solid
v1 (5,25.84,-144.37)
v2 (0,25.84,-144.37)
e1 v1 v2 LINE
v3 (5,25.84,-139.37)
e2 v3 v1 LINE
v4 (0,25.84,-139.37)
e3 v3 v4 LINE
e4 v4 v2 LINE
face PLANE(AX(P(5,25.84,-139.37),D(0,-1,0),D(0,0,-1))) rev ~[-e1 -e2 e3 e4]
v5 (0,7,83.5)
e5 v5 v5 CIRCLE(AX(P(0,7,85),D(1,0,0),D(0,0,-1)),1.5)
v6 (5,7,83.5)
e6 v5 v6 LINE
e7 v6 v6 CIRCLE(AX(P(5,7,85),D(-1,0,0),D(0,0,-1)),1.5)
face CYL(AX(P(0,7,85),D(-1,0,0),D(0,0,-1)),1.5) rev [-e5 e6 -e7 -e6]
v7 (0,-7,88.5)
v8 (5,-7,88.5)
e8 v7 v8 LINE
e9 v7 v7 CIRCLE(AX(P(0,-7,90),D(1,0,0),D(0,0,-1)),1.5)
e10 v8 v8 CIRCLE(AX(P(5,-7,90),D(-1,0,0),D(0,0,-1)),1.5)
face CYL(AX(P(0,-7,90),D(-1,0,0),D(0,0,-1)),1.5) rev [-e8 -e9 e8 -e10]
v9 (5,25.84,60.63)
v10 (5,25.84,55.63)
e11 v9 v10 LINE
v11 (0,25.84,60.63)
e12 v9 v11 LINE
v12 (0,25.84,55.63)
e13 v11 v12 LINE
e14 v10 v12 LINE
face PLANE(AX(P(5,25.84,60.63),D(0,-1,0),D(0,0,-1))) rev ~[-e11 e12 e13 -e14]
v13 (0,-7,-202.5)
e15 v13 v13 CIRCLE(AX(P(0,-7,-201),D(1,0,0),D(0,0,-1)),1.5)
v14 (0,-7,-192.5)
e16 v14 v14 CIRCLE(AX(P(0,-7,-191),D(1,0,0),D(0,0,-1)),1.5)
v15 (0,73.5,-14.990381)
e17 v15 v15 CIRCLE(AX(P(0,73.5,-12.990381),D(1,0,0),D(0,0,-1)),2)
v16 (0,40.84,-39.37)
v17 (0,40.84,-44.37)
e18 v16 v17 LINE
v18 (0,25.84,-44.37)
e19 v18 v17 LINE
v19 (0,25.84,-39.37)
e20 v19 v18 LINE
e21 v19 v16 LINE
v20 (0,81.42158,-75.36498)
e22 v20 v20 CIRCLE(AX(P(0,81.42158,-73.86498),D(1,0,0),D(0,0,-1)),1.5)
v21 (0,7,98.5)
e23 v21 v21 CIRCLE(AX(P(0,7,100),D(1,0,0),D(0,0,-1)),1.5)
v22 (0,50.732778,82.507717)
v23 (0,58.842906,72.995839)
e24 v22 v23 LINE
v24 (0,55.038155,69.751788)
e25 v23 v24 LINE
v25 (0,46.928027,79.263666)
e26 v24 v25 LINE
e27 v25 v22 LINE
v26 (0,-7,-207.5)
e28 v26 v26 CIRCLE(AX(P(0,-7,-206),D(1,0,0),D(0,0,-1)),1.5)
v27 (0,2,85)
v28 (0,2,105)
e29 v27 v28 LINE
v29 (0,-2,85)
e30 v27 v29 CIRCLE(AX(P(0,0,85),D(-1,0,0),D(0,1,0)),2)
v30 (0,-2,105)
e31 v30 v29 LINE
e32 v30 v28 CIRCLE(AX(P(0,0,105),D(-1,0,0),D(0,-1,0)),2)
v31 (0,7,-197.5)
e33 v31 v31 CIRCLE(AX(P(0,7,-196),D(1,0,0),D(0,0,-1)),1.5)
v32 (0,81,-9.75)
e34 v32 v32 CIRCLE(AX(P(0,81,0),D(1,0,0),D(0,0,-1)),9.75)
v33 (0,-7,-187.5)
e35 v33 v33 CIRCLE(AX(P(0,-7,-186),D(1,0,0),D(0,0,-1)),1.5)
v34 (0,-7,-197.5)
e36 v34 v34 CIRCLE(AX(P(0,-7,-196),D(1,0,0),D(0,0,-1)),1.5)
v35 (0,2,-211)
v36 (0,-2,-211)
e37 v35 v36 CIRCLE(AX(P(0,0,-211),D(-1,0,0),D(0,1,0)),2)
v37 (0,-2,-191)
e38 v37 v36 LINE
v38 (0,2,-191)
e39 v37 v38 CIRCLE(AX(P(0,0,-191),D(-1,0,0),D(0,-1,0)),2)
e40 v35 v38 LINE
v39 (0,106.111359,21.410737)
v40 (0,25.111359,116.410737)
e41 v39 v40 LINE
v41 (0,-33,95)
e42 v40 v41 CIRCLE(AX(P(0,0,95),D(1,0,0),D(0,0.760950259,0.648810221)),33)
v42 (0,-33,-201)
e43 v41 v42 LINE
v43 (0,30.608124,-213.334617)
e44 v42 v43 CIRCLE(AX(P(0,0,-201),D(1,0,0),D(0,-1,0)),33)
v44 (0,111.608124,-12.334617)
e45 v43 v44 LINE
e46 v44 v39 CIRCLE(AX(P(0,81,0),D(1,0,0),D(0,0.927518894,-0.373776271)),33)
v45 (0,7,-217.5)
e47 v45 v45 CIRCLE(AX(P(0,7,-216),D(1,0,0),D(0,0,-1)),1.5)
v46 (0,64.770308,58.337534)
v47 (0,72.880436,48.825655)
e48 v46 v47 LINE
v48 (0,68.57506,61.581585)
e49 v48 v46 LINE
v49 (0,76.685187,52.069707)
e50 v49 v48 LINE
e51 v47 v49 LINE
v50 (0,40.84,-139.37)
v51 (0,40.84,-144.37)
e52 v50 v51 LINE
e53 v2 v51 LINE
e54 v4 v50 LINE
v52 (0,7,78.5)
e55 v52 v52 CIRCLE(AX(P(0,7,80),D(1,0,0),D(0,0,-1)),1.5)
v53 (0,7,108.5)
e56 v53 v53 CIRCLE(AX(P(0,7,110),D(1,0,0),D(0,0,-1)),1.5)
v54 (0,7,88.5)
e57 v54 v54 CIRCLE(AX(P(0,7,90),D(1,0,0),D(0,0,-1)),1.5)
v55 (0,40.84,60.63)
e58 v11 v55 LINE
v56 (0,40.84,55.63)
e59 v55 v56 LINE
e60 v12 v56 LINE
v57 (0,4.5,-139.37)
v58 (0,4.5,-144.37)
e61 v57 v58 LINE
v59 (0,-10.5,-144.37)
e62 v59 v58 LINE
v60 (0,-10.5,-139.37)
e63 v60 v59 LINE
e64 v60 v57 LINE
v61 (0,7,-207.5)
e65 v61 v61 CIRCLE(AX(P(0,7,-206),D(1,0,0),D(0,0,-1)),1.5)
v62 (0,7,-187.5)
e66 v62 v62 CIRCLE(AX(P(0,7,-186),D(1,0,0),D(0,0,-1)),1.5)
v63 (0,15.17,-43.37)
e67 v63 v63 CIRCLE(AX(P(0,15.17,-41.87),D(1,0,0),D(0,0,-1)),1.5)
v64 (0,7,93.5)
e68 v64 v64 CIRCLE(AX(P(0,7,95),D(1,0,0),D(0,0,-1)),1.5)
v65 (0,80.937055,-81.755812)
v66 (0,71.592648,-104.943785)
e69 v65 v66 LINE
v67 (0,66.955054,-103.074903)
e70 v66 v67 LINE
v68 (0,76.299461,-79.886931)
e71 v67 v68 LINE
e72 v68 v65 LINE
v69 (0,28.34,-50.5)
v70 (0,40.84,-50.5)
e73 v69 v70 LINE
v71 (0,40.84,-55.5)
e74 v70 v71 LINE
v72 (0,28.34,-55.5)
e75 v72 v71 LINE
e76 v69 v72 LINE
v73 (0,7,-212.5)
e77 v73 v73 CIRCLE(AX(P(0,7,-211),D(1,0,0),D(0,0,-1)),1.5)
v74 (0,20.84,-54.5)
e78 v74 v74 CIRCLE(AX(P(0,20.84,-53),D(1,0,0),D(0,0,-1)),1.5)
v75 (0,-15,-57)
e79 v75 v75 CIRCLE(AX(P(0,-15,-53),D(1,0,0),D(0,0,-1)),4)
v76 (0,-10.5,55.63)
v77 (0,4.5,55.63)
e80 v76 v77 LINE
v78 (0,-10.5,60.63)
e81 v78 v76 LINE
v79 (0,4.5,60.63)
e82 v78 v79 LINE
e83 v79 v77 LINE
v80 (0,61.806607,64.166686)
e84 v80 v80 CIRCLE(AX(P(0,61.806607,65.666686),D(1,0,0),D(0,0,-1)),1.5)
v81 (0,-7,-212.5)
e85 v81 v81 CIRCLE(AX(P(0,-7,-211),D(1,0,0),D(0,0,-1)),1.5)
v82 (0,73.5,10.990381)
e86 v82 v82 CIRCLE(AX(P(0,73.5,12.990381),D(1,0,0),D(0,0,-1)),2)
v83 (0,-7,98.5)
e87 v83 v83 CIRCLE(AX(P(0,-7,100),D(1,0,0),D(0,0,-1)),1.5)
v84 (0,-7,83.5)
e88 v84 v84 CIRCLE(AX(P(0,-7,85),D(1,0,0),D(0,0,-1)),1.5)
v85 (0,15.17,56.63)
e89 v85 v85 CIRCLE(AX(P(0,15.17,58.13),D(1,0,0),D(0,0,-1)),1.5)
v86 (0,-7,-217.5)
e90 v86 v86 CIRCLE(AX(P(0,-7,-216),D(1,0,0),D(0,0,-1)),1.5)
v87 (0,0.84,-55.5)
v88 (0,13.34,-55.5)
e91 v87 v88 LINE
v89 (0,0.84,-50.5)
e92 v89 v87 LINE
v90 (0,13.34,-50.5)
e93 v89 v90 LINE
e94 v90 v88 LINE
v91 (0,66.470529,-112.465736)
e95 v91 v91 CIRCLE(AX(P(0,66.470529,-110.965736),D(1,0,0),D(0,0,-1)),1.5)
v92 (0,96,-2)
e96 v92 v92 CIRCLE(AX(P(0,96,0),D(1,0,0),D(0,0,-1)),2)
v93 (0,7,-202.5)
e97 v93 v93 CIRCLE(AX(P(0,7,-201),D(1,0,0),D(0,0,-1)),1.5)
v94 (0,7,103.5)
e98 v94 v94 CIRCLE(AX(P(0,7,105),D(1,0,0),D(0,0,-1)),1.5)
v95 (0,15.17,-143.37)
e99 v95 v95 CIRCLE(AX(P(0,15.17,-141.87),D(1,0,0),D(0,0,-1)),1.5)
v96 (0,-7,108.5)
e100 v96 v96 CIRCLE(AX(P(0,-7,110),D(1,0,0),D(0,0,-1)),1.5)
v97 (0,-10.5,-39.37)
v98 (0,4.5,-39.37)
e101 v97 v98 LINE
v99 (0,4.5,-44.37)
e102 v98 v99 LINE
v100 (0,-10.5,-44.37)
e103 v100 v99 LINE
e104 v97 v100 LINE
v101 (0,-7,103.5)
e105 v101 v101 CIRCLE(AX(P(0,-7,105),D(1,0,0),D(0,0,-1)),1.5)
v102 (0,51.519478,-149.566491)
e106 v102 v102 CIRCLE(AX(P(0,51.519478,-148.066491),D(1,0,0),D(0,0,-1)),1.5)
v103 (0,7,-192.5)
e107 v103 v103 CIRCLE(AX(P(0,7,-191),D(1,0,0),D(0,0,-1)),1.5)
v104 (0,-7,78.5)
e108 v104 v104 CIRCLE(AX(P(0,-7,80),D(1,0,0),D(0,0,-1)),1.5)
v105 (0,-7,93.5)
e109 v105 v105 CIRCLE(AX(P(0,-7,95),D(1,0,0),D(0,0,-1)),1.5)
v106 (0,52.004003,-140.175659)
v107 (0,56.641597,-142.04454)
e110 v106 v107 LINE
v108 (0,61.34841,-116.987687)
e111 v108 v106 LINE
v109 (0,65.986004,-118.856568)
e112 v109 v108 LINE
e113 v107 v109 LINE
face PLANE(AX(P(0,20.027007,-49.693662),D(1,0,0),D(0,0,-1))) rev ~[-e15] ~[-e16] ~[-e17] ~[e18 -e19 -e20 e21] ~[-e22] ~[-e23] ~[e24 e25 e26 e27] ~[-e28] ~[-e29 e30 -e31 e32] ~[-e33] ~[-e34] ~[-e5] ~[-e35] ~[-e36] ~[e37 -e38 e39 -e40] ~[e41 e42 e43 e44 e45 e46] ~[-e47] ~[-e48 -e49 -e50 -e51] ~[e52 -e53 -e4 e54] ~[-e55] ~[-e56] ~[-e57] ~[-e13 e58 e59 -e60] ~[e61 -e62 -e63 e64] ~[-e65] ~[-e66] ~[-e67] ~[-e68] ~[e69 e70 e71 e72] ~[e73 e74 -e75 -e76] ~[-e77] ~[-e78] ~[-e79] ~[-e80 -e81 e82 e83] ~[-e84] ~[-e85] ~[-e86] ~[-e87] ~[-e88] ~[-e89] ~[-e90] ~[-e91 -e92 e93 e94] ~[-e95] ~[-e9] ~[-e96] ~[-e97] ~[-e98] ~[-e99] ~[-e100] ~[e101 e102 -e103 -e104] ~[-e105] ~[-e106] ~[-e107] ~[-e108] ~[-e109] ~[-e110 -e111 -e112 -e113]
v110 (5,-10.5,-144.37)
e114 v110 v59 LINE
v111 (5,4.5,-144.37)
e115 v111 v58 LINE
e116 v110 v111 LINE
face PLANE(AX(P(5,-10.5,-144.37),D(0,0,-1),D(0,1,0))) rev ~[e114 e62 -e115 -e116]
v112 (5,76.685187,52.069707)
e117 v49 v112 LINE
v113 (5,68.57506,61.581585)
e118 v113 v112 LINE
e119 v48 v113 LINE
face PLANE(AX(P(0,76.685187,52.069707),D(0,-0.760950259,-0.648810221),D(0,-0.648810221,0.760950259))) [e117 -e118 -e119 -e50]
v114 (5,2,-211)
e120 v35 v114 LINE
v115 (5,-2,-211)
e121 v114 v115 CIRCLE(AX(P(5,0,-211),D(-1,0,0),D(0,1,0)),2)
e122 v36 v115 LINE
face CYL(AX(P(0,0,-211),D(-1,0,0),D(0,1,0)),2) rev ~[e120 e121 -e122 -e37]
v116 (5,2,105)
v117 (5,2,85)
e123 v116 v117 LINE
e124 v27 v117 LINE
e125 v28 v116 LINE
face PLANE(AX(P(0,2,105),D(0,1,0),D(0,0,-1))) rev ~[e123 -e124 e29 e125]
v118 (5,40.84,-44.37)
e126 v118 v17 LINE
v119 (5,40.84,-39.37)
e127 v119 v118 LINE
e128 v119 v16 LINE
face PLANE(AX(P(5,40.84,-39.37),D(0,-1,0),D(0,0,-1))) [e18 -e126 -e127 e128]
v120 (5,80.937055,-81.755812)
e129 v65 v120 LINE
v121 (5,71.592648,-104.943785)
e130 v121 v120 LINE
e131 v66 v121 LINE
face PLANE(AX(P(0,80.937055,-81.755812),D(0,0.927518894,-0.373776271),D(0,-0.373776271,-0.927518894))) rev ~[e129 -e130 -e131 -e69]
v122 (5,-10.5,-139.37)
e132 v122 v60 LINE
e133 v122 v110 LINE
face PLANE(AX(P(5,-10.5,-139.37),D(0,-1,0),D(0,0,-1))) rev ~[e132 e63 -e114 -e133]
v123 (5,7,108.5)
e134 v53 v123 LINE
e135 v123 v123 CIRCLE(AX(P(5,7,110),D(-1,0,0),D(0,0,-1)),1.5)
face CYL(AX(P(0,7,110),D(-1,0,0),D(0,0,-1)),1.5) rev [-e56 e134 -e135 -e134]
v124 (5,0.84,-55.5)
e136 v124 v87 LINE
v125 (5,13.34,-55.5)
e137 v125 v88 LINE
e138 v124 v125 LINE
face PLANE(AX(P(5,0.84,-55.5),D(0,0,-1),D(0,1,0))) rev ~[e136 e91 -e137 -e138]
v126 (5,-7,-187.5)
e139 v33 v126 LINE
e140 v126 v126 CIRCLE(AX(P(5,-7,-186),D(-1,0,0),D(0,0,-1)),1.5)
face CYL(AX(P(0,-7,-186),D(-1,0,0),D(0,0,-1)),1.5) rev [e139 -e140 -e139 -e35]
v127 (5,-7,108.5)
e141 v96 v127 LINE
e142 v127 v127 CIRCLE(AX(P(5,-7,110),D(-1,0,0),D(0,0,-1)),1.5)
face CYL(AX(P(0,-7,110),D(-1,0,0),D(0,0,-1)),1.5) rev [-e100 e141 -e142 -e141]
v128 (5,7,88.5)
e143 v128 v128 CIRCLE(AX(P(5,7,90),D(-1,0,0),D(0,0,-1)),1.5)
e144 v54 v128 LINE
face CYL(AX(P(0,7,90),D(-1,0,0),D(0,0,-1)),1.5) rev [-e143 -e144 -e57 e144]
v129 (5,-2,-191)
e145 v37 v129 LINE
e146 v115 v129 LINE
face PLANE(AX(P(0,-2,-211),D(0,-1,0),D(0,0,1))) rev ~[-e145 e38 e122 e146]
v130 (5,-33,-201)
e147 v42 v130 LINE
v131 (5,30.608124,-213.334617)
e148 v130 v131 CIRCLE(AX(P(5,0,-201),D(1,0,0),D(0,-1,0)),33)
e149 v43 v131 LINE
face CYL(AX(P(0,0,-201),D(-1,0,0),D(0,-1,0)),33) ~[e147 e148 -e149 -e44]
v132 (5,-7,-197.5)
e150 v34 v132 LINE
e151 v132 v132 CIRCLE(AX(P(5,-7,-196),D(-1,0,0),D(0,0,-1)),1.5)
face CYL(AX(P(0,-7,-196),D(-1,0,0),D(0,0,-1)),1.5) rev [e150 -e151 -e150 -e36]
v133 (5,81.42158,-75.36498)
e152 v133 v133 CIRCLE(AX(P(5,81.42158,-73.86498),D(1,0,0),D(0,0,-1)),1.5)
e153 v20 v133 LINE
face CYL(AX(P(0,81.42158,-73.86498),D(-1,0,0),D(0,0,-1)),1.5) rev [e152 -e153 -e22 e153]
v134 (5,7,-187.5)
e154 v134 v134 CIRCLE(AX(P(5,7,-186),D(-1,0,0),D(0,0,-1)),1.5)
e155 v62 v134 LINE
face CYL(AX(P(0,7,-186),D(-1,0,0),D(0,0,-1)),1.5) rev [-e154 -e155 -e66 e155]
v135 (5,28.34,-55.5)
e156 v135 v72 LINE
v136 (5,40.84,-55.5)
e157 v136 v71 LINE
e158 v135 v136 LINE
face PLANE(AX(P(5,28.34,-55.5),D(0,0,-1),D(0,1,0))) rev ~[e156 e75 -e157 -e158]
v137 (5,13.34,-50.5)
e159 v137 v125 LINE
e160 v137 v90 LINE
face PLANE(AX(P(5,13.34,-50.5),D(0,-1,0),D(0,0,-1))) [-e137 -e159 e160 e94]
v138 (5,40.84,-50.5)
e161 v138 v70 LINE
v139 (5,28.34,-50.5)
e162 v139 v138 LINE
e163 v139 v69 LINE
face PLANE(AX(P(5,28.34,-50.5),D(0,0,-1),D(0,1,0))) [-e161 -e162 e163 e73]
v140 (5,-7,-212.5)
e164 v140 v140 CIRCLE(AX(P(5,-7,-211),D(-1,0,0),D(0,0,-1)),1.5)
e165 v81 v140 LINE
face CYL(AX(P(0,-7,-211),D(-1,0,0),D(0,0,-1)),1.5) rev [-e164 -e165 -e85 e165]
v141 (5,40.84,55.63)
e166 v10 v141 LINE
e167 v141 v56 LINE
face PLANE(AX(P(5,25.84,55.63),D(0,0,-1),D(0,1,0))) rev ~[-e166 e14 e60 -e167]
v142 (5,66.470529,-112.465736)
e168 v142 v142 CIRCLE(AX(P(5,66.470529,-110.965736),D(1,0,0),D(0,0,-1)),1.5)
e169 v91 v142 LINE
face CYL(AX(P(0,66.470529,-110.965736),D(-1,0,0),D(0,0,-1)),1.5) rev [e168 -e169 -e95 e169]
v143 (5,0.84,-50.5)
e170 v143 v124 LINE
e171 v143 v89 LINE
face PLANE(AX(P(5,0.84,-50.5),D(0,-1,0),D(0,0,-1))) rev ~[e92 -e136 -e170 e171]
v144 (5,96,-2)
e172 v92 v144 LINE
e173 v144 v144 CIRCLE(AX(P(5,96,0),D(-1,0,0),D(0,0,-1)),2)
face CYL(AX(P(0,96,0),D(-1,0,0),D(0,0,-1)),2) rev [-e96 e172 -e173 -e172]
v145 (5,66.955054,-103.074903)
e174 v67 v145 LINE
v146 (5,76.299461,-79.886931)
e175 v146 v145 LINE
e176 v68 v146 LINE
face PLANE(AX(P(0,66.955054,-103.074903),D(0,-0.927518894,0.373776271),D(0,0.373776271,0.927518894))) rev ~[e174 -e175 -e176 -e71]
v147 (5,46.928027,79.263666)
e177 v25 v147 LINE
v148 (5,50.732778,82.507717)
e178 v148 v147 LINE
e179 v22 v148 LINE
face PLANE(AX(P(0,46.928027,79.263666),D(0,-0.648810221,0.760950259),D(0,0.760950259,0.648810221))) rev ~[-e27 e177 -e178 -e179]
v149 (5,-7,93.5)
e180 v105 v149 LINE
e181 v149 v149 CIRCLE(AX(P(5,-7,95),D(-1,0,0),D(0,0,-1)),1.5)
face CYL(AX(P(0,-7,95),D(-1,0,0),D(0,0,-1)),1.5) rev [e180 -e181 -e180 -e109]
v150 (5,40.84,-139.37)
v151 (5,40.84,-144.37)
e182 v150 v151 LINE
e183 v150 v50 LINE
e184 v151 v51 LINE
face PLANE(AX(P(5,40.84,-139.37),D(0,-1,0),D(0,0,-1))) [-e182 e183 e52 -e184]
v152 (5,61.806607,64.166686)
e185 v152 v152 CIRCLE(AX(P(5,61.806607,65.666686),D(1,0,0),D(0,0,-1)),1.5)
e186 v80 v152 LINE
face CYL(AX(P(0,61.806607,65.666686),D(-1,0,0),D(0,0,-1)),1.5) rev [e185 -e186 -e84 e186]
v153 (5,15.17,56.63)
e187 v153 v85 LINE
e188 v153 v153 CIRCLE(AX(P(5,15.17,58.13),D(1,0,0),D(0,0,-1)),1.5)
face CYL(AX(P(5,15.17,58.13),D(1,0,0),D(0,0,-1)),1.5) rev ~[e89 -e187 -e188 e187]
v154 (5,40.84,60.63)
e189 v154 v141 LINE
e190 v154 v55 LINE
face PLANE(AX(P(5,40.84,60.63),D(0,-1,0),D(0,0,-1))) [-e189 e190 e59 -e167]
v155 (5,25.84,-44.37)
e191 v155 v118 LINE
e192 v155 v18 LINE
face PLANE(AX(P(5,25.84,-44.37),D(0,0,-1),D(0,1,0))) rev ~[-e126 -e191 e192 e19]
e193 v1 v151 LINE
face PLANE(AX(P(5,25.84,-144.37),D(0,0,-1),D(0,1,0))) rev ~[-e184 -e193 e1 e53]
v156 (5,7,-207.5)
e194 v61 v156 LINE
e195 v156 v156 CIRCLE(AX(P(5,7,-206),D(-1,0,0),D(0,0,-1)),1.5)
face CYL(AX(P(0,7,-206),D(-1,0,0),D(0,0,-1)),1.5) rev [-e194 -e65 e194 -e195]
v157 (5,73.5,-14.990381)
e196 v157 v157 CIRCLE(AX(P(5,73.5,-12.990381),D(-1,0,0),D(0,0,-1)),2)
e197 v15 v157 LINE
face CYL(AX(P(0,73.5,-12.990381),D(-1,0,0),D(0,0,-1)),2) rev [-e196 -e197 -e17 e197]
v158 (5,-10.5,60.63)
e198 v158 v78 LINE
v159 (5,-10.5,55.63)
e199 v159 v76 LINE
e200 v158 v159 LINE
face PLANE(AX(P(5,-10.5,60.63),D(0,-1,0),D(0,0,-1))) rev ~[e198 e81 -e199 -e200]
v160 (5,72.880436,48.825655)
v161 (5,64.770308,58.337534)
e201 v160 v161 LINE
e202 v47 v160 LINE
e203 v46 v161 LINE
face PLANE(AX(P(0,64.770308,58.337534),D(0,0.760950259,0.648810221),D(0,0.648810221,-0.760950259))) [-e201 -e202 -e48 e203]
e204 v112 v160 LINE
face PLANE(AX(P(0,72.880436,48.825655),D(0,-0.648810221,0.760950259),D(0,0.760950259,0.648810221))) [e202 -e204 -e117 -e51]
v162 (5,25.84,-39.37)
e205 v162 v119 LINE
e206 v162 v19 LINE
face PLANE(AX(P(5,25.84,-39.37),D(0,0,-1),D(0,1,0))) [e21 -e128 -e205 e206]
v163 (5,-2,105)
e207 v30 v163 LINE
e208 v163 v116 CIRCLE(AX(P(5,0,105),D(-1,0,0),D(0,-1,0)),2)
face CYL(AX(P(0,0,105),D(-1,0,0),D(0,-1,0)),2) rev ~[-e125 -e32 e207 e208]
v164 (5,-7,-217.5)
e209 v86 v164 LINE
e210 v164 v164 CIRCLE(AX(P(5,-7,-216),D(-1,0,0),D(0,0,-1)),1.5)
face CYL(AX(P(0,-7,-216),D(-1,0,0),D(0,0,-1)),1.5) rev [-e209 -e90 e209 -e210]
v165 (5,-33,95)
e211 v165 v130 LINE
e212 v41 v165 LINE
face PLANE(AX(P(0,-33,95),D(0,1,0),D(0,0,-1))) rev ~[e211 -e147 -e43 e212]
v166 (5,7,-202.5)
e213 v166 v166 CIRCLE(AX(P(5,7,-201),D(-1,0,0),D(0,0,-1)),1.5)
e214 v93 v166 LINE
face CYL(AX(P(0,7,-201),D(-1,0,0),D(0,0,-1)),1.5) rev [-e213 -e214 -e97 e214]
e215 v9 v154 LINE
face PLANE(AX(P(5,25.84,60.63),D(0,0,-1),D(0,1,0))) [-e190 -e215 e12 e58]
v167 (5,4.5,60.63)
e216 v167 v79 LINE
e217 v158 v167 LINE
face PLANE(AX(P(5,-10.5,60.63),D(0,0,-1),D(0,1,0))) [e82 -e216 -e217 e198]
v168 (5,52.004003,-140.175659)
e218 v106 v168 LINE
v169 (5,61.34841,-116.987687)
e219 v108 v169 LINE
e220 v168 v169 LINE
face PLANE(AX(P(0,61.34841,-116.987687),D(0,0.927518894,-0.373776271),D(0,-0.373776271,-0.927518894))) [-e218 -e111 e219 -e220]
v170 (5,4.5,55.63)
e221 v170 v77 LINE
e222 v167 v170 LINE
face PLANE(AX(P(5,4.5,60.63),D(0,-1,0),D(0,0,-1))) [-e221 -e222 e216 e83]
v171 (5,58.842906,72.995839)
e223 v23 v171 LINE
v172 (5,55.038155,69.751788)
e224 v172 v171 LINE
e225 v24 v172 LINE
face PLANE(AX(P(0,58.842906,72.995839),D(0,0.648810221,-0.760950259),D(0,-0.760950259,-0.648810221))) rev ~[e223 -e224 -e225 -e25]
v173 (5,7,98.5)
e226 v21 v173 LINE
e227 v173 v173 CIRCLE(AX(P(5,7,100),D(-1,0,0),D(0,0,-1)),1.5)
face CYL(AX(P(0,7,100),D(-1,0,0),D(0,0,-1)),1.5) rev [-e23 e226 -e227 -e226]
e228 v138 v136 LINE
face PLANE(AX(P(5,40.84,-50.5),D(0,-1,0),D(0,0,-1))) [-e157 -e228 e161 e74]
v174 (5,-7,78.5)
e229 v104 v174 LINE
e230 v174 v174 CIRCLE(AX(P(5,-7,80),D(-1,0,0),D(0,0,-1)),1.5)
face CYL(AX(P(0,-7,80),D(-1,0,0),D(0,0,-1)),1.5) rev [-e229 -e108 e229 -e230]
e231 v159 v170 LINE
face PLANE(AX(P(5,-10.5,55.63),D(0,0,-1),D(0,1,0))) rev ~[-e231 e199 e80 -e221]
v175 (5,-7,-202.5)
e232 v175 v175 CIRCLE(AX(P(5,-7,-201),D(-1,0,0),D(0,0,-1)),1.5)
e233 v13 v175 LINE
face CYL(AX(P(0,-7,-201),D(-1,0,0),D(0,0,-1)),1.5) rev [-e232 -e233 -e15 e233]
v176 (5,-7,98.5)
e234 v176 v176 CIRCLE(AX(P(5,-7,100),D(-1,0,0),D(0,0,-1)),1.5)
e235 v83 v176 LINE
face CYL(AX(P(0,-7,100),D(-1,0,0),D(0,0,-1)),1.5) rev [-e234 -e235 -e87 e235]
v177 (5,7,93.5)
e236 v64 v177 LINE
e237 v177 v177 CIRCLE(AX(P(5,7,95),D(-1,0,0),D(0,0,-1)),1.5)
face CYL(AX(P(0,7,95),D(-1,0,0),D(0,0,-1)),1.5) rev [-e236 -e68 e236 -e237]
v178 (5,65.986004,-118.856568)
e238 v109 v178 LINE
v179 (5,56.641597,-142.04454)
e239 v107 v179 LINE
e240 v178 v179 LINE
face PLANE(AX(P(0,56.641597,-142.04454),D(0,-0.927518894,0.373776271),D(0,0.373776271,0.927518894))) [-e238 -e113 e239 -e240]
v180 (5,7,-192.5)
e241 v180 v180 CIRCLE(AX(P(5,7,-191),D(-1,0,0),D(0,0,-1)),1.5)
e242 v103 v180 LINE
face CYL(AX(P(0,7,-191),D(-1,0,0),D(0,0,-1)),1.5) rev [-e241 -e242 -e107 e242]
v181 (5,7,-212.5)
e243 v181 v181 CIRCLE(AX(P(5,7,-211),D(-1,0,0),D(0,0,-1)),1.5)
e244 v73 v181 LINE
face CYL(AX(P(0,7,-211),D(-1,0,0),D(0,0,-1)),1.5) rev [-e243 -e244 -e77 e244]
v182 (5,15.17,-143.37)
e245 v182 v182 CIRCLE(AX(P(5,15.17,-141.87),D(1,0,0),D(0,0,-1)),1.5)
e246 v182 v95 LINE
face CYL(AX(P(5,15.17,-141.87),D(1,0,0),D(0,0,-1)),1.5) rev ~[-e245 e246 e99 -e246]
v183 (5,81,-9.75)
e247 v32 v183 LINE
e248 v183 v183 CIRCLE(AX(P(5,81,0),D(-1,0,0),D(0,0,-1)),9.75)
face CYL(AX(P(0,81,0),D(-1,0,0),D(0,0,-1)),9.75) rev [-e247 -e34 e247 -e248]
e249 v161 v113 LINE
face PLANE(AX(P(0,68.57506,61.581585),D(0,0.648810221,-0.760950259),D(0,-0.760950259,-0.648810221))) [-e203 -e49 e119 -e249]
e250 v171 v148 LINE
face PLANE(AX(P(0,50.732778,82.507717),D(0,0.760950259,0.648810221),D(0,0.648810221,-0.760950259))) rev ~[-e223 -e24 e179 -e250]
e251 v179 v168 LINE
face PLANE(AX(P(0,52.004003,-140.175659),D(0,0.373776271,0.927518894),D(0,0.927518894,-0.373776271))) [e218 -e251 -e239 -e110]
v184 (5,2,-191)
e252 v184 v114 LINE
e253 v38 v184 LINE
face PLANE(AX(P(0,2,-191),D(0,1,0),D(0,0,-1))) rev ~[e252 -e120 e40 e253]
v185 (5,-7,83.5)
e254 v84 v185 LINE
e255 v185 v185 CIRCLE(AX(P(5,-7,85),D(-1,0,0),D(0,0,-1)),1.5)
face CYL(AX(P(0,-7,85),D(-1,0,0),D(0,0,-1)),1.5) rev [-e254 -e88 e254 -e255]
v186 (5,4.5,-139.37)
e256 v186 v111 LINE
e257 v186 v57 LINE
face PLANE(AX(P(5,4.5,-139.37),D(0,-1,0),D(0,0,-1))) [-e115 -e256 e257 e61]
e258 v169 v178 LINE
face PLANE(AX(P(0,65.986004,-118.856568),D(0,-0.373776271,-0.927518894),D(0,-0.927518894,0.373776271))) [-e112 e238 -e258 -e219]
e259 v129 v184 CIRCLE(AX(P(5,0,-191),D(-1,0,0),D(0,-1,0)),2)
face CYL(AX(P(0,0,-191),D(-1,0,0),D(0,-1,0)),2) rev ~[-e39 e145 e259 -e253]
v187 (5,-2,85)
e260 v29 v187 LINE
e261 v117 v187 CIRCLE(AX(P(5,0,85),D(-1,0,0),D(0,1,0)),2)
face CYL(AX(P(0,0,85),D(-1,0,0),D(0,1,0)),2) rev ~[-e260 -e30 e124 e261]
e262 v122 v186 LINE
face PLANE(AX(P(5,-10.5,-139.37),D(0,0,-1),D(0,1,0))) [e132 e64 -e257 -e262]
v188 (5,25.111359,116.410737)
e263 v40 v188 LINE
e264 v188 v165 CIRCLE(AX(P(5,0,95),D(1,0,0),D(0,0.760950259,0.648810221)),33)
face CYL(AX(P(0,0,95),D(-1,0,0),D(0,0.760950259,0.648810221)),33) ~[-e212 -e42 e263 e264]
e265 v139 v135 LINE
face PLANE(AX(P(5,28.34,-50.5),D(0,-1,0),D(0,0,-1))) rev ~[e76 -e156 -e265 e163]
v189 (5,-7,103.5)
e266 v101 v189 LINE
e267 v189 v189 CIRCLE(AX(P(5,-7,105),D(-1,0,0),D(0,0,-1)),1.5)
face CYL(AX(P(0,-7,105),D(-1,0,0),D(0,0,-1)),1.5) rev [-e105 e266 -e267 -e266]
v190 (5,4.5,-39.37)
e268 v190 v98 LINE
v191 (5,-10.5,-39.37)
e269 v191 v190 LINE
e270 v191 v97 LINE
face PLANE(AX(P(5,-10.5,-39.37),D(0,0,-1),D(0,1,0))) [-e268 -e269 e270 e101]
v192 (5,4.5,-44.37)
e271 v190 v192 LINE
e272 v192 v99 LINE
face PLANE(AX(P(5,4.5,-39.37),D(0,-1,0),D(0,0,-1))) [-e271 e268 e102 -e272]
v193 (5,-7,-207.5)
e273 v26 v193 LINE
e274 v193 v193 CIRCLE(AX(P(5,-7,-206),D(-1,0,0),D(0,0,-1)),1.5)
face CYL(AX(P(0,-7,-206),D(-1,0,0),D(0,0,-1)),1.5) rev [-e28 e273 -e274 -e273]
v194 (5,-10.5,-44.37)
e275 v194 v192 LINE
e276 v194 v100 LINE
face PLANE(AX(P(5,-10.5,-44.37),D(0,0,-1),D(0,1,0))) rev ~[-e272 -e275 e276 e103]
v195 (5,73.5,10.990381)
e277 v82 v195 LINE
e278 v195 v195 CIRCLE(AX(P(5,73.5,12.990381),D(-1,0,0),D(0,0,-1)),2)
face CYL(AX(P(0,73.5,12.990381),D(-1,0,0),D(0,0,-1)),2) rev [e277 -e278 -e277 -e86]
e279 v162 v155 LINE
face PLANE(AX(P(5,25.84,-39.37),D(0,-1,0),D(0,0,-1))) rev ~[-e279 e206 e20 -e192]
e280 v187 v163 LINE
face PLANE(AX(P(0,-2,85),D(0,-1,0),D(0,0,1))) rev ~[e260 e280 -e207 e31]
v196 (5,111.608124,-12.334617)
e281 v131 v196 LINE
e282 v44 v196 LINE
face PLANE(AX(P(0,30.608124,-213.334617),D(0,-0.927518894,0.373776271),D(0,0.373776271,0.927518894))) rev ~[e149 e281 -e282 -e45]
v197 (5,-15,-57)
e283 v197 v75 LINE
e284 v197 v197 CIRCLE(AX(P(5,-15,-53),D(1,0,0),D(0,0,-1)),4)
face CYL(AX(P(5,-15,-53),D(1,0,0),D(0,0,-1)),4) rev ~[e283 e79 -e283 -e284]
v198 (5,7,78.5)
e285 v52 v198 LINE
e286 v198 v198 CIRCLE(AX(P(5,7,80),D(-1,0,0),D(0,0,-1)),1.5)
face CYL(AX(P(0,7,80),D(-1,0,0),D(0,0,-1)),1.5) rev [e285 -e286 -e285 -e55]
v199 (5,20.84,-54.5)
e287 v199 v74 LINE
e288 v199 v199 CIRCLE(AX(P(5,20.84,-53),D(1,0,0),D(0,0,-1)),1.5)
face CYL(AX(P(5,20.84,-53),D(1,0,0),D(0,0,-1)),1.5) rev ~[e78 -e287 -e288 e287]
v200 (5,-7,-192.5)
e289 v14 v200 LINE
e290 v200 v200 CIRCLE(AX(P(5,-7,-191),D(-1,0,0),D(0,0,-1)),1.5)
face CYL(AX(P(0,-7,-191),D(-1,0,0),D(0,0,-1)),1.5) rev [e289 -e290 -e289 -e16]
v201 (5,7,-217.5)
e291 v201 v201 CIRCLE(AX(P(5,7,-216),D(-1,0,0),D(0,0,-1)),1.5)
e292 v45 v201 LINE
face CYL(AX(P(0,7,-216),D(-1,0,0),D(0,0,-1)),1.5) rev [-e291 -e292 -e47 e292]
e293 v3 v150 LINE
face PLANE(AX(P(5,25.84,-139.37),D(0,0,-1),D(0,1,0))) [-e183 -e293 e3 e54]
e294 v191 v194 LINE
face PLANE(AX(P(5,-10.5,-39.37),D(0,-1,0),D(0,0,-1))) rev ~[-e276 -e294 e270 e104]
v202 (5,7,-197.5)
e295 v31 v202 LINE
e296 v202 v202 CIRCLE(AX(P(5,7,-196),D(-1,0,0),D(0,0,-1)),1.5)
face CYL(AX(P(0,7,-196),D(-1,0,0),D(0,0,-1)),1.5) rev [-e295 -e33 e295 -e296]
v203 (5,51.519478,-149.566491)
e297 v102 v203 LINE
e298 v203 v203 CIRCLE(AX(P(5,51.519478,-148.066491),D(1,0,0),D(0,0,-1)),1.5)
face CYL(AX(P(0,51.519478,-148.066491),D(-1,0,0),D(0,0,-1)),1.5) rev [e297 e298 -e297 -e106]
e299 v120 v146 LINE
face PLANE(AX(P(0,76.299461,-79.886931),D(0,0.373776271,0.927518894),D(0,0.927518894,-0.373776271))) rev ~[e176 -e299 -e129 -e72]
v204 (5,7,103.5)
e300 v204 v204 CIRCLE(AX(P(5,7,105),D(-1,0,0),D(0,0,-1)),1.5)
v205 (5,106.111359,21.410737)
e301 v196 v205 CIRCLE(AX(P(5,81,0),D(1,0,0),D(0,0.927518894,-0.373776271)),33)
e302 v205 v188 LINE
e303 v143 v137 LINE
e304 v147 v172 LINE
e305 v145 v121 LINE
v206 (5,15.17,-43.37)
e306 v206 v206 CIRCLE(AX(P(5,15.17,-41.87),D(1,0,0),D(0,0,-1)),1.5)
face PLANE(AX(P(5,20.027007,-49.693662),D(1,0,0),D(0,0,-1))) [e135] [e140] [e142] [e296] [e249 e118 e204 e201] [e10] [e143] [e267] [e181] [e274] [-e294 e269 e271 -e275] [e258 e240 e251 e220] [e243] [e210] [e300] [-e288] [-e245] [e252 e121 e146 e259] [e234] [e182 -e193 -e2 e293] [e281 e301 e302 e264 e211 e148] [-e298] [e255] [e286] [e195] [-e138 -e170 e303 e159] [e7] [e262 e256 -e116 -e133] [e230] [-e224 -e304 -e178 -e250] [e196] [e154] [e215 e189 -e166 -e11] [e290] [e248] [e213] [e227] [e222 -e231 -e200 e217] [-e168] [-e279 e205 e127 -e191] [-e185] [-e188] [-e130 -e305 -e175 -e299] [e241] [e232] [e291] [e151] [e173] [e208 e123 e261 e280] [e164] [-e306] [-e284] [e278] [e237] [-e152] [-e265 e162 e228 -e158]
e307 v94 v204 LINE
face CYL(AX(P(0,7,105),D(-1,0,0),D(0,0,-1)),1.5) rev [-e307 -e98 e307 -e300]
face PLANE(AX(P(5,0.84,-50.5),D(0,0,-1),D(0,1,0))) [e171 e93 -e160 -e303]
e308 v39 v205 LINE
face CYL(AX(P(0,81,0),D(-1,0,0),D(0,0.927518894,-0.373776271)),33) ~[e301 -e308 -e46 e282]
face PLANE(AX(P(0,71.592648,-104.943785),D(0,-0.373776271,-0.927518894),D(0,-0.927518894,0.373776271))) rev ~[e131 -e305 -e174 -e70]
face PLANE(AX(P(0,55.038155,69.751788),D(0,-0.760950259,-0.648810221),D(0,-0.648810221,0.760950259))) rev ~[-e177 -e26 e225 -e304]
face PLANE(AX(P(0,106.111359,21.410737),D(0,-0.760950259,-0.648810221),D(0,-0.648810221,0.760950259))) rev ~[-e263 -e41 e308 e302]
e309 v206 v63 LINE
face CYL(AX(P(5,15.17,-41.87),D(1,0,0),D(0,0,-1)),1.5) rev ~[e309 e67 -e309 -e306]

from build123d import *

# Parameters (mm, degrees)
SCHIZZO3_R                   = 1.5
ESTRUSIONE_ESTRUSIONE1_DEPTH = 5
SCHIZZO2_R                   = 2
SCHIZZO2_R_2                 = 9.75
TAGLIO_ESTRUSIONE1_DEPTH     = 6
TAGLIO_ESTRUSIONE2_DEPTH     = 6
SCHIZZO6_R                   = 1.5
SCHIZZO6_R_2                 = 4
SCHIZZO6_W                   = 5
SCHIZZO6_H                   = 15
SCHIZZO6_H_2                 = 12.5
TAGLIO_ESTRUSIONE3_DEPTH     = 6
SCHIZZO7_R                   = 1.5
TAGLIO_ESTRUSIONE4_DEPTH     = 6


with BuildPart() as part:
    # Schizzo3 → Estrusione-Estrusione1 (new body)
    with BuildSketch(Plane(origin=(0, 0, 0), x_dir=(0, 0, -1), z_dir=(1, 0, 0))):
        with BuildLine():
            Line((-95, -33), (201, -33))
            ThreePointArc((201, -33), (233.396512744, -6.282194046), (213.334616938, 30.608123513))
            Line((213.334616938, 30.608123513), (12.334616938, 111.608123513))
            ThreePointArc((12.334616938, 111.608123513), (-5.305430843, 113.570729245), (-21.410737295, 106.111358555))
            Line((-21.410737295, 106.111358555), (-116.410737295, 25.111358555))
            ThreePointArc((-116.410737295, 25.111358555), (-125.96509997, -11.408881796), (-95, -33))
        make_face()
        with Locations((-65.666686189, 61.806607259)):
            Circle(SCHIZZO3_R, mode=Mode.SUBTRACT)
        with Locations((110.965735584, 66.470529041)):
            Circle(SCHIZZO3_R, mode=Mode.SUBTRACT)
        with Locations((73.86497981, 81.421579875)):
            Circle(SCHIZZO3_R, mode=Mode.SUBTRACT)
        with Locations((148.066491357, 51.519478207)):
            Circle(SCHIZZO3_R, mode=Mode.SUBTRACT)
    extrude(amount=ESTRUSIONE_ESTRUSIONE1_DEPTH)

    # Schizzo2 → Taglio-Estrusione1 (cut, through all)
    with BuildSketch(Plane(origin=(0, 0, 0), x_dir=(0, 0, -1), z_dir=(1, 0, 0))):
        with Locations((-95, 0)):
            Circle(SCHIZZO2_R)
        with Locations((201, 0)):
            Circle(SCHIZZO2_R)
        with Locations((12.990381057, 73.5)):
            Circle(SCHIZZO2_R)
        with Locations((-12.990381057, 73.5)):
            Circle(SCHIZZO2_R)
        with Locations((0, 96)):
            Circle(SCHIZZO2_R)
        with Locations((0, 81)):
            Circle(SCHIZZO2_R_2)
    extrude(amount=TAGLIO_ESTRUSIONE1_DEPTH, mode=Mode.SUBTRACT)

    # Schizzo4 → Taglio-Estrusione2 (cut, through all)
    with BuildSketch(Plane(origin=(0, 0, 0), x_dir=(0, 0, -1), z_dir=(1, 0, 0))):
        Polygon((104.943784553, 71.592648309), (103.074903199, 66.955053837), (79.886930841, 76.299460608), (81.755812195, 80.93705508), align=None)
        Polygon((118.856567968, 65.986004246), (116.987686614, 61.348409774), (140.175658973, 52.004003003), (142.044540327, 56.641597475), align=None)
        Polygon((-82.507716927, 50.732778486), (-72.995838686, 58.842906249), (-69.751787581, 55.038154953), (-79.263665822, 46.92802719), align=None)
        Polygon((-61.581584798, 68.575059565), (-58.337533692, 64.770308269), (-48.825655452, 72.880436032), (-52.069706557, 76.685187328), align=None)
    extrude(amount=TAGLIO_ESTRUSIONE2_DEPTH, mode=Mode.SUBTRACT)

    # Schizzo6 → Taglio-Estrusione3 (cut, through all)
    with BuildSketch(Plane(origin=(5, 0, 0), x_dir=(0, 0, -1), z_dir=(1, 0, 0))):
        with Locations((41.87, 15.17)):
            Circle(SCHIZZO6_R)
        with Locations((-58.13, 15.17)):
            Circle(SCHIZZO6_R)
        with Locations((141.87, 15.17)):
            Circle(SCHIZZO6_R)
        with Locations((53, -15)):
            Circle(SCHIZZO6_R_2)
        with Locations((53, 20.84)):
            Circle(SCHIZZO6_R)
        with Locations((41.87, -3)):
            Rectangle(SCHIZZO6_W, SCHIZZO6_H)
        with Locations((41.87, 33.34)):
            Rectangle(SCHIZZO6_W, SCHIZZO6_H)
        with Locations((141.87, 33.34)):
            Rectangle(SCHIZZO6_W, SCHIZZO6_H)
        with Locations((141.87, -3)):
            Rectangle(SCHIZZO6_W, SCHIZZO6_H)
        with Locations((-58.13, -3)):
            Rectangle(SCHIZZO6_W, SCHIZZO6_H)
        with Locations((-58.13, 33.34)):
            Rectangle(SCHIZZO6_W, SCHIZZO6_H)
        with Locations((53, 34.59)):
            Rectangle(SCHIZZO6_W, SCHIZZO6_H_2)
        with Locations((53, 7.09)):
            Rectangle(SCHIZZO6_W, SCHIZZO6_H_2)
    extrude(amount=-TAGLIO_ESTRUSIONE3_DEPTH, mode=Mode.SUBTRACT)

    # Schizzo7 → Taglio-Estrusione4 (cut, through all)
    with BuildSketch(Plane(origin=(0, 0, 0), x_dir=(0, 0, -1), z_dir=(1, 0, 0))):
        with Locations((-95, 7)):
            Circle(SCHIZZO7_R)
        with Locations((-90, 7)):
            Circle(SCHIZZO7_R)
        with Locations((-85, 7)):
            Circle(SCHIZZO7_R)
        with Locations((-80, 7)):
            Circle(SCHIZZO7_R)
        with Locations((-100, 7)):
            Circle(SCHIZZO7_R)
        with Locations((-105, 7)):
            Circle(SCHIZZO7_R)
        with Locations((-110, 7)):
            Circle(SCHIZZO7_R)
        with Locations((-80, -7)):
            Circle(SCHIZZO7_R)
        with Locations((-85, -7)):
            Circle(SCHIZZO7_R)
        with Locations((-90, -7)):
            Circle(SCHIZZO7_R)
        with Locations((-95, -7)):
            Circle(SCHIZZO7_R)
        with Locations((-100, -7)):
            Circle(SCHIZZO7_R)
        with Locations((-105, -7)):
            Circle(SCHIZZO7_R)
        with Locations((-110, -7)):
            Circle(SCHIZZO7_R)
        with Locations((216, -7)):
            Circle(SCHIZZO7_R)
        with Locations((211, -7)):
            Circle(SCHIZZO7_R)
        with Locations((206, -7)):
            Circle(SCHIZZO7_R)
        with Locations((201, -7)):
            Circle(SCHIZZO7_R)
        with Locations((196, -7)):
            Circle(SCHIZZO7_R)
        with Locations((191, -7)):
            Circle(SCHIZZO7_R)
        with Locations((186, -7)):
            Circle(SCHIZZO7_R)
        with Locations((186, 7)):
            Circle(SCHIZZO7_R)
        with Locations((191, 7)):
            Circle(SCHIZZO7_R)
        with Locations((196, 7)):
            Circle(SCHIZZO7_R)
        with Locations((201, 7)):
            Circle(SCHIZZO7_R)
        with Locations((206, 7)):
            Circle(SCHIZZO7_R)
        with Locations((211, 7)):
            Circle(SCHIZZO7_R)
        with Locations((216, 7)):
            Circle(SCHIZZO7_R)
        with BuildLine():
            Line((-105, 2), (-85, 2))
            ThreePointArc((-85, 2), (-83, 0), (-85, -2))
            Line((-85, -2), (-105, -2))
            ThreePointArc((-105, -2), (-107, 0), (-105, 2))
        make_face()
        with BuildLine():
            Line((191, 2), (211, 2))
            ThreePointArc((211, 2), (213, 0), (211, -2))
            Line((211, -2), (191, -2))
            ThreePointArc((191, -2), (189, 0), (191, 2))
        make_face()
    extrude(amount=TAGLIO_ESTRUSIONE4_DEPTH, mode=Mode.SUBTRACT)


solid = part.part
